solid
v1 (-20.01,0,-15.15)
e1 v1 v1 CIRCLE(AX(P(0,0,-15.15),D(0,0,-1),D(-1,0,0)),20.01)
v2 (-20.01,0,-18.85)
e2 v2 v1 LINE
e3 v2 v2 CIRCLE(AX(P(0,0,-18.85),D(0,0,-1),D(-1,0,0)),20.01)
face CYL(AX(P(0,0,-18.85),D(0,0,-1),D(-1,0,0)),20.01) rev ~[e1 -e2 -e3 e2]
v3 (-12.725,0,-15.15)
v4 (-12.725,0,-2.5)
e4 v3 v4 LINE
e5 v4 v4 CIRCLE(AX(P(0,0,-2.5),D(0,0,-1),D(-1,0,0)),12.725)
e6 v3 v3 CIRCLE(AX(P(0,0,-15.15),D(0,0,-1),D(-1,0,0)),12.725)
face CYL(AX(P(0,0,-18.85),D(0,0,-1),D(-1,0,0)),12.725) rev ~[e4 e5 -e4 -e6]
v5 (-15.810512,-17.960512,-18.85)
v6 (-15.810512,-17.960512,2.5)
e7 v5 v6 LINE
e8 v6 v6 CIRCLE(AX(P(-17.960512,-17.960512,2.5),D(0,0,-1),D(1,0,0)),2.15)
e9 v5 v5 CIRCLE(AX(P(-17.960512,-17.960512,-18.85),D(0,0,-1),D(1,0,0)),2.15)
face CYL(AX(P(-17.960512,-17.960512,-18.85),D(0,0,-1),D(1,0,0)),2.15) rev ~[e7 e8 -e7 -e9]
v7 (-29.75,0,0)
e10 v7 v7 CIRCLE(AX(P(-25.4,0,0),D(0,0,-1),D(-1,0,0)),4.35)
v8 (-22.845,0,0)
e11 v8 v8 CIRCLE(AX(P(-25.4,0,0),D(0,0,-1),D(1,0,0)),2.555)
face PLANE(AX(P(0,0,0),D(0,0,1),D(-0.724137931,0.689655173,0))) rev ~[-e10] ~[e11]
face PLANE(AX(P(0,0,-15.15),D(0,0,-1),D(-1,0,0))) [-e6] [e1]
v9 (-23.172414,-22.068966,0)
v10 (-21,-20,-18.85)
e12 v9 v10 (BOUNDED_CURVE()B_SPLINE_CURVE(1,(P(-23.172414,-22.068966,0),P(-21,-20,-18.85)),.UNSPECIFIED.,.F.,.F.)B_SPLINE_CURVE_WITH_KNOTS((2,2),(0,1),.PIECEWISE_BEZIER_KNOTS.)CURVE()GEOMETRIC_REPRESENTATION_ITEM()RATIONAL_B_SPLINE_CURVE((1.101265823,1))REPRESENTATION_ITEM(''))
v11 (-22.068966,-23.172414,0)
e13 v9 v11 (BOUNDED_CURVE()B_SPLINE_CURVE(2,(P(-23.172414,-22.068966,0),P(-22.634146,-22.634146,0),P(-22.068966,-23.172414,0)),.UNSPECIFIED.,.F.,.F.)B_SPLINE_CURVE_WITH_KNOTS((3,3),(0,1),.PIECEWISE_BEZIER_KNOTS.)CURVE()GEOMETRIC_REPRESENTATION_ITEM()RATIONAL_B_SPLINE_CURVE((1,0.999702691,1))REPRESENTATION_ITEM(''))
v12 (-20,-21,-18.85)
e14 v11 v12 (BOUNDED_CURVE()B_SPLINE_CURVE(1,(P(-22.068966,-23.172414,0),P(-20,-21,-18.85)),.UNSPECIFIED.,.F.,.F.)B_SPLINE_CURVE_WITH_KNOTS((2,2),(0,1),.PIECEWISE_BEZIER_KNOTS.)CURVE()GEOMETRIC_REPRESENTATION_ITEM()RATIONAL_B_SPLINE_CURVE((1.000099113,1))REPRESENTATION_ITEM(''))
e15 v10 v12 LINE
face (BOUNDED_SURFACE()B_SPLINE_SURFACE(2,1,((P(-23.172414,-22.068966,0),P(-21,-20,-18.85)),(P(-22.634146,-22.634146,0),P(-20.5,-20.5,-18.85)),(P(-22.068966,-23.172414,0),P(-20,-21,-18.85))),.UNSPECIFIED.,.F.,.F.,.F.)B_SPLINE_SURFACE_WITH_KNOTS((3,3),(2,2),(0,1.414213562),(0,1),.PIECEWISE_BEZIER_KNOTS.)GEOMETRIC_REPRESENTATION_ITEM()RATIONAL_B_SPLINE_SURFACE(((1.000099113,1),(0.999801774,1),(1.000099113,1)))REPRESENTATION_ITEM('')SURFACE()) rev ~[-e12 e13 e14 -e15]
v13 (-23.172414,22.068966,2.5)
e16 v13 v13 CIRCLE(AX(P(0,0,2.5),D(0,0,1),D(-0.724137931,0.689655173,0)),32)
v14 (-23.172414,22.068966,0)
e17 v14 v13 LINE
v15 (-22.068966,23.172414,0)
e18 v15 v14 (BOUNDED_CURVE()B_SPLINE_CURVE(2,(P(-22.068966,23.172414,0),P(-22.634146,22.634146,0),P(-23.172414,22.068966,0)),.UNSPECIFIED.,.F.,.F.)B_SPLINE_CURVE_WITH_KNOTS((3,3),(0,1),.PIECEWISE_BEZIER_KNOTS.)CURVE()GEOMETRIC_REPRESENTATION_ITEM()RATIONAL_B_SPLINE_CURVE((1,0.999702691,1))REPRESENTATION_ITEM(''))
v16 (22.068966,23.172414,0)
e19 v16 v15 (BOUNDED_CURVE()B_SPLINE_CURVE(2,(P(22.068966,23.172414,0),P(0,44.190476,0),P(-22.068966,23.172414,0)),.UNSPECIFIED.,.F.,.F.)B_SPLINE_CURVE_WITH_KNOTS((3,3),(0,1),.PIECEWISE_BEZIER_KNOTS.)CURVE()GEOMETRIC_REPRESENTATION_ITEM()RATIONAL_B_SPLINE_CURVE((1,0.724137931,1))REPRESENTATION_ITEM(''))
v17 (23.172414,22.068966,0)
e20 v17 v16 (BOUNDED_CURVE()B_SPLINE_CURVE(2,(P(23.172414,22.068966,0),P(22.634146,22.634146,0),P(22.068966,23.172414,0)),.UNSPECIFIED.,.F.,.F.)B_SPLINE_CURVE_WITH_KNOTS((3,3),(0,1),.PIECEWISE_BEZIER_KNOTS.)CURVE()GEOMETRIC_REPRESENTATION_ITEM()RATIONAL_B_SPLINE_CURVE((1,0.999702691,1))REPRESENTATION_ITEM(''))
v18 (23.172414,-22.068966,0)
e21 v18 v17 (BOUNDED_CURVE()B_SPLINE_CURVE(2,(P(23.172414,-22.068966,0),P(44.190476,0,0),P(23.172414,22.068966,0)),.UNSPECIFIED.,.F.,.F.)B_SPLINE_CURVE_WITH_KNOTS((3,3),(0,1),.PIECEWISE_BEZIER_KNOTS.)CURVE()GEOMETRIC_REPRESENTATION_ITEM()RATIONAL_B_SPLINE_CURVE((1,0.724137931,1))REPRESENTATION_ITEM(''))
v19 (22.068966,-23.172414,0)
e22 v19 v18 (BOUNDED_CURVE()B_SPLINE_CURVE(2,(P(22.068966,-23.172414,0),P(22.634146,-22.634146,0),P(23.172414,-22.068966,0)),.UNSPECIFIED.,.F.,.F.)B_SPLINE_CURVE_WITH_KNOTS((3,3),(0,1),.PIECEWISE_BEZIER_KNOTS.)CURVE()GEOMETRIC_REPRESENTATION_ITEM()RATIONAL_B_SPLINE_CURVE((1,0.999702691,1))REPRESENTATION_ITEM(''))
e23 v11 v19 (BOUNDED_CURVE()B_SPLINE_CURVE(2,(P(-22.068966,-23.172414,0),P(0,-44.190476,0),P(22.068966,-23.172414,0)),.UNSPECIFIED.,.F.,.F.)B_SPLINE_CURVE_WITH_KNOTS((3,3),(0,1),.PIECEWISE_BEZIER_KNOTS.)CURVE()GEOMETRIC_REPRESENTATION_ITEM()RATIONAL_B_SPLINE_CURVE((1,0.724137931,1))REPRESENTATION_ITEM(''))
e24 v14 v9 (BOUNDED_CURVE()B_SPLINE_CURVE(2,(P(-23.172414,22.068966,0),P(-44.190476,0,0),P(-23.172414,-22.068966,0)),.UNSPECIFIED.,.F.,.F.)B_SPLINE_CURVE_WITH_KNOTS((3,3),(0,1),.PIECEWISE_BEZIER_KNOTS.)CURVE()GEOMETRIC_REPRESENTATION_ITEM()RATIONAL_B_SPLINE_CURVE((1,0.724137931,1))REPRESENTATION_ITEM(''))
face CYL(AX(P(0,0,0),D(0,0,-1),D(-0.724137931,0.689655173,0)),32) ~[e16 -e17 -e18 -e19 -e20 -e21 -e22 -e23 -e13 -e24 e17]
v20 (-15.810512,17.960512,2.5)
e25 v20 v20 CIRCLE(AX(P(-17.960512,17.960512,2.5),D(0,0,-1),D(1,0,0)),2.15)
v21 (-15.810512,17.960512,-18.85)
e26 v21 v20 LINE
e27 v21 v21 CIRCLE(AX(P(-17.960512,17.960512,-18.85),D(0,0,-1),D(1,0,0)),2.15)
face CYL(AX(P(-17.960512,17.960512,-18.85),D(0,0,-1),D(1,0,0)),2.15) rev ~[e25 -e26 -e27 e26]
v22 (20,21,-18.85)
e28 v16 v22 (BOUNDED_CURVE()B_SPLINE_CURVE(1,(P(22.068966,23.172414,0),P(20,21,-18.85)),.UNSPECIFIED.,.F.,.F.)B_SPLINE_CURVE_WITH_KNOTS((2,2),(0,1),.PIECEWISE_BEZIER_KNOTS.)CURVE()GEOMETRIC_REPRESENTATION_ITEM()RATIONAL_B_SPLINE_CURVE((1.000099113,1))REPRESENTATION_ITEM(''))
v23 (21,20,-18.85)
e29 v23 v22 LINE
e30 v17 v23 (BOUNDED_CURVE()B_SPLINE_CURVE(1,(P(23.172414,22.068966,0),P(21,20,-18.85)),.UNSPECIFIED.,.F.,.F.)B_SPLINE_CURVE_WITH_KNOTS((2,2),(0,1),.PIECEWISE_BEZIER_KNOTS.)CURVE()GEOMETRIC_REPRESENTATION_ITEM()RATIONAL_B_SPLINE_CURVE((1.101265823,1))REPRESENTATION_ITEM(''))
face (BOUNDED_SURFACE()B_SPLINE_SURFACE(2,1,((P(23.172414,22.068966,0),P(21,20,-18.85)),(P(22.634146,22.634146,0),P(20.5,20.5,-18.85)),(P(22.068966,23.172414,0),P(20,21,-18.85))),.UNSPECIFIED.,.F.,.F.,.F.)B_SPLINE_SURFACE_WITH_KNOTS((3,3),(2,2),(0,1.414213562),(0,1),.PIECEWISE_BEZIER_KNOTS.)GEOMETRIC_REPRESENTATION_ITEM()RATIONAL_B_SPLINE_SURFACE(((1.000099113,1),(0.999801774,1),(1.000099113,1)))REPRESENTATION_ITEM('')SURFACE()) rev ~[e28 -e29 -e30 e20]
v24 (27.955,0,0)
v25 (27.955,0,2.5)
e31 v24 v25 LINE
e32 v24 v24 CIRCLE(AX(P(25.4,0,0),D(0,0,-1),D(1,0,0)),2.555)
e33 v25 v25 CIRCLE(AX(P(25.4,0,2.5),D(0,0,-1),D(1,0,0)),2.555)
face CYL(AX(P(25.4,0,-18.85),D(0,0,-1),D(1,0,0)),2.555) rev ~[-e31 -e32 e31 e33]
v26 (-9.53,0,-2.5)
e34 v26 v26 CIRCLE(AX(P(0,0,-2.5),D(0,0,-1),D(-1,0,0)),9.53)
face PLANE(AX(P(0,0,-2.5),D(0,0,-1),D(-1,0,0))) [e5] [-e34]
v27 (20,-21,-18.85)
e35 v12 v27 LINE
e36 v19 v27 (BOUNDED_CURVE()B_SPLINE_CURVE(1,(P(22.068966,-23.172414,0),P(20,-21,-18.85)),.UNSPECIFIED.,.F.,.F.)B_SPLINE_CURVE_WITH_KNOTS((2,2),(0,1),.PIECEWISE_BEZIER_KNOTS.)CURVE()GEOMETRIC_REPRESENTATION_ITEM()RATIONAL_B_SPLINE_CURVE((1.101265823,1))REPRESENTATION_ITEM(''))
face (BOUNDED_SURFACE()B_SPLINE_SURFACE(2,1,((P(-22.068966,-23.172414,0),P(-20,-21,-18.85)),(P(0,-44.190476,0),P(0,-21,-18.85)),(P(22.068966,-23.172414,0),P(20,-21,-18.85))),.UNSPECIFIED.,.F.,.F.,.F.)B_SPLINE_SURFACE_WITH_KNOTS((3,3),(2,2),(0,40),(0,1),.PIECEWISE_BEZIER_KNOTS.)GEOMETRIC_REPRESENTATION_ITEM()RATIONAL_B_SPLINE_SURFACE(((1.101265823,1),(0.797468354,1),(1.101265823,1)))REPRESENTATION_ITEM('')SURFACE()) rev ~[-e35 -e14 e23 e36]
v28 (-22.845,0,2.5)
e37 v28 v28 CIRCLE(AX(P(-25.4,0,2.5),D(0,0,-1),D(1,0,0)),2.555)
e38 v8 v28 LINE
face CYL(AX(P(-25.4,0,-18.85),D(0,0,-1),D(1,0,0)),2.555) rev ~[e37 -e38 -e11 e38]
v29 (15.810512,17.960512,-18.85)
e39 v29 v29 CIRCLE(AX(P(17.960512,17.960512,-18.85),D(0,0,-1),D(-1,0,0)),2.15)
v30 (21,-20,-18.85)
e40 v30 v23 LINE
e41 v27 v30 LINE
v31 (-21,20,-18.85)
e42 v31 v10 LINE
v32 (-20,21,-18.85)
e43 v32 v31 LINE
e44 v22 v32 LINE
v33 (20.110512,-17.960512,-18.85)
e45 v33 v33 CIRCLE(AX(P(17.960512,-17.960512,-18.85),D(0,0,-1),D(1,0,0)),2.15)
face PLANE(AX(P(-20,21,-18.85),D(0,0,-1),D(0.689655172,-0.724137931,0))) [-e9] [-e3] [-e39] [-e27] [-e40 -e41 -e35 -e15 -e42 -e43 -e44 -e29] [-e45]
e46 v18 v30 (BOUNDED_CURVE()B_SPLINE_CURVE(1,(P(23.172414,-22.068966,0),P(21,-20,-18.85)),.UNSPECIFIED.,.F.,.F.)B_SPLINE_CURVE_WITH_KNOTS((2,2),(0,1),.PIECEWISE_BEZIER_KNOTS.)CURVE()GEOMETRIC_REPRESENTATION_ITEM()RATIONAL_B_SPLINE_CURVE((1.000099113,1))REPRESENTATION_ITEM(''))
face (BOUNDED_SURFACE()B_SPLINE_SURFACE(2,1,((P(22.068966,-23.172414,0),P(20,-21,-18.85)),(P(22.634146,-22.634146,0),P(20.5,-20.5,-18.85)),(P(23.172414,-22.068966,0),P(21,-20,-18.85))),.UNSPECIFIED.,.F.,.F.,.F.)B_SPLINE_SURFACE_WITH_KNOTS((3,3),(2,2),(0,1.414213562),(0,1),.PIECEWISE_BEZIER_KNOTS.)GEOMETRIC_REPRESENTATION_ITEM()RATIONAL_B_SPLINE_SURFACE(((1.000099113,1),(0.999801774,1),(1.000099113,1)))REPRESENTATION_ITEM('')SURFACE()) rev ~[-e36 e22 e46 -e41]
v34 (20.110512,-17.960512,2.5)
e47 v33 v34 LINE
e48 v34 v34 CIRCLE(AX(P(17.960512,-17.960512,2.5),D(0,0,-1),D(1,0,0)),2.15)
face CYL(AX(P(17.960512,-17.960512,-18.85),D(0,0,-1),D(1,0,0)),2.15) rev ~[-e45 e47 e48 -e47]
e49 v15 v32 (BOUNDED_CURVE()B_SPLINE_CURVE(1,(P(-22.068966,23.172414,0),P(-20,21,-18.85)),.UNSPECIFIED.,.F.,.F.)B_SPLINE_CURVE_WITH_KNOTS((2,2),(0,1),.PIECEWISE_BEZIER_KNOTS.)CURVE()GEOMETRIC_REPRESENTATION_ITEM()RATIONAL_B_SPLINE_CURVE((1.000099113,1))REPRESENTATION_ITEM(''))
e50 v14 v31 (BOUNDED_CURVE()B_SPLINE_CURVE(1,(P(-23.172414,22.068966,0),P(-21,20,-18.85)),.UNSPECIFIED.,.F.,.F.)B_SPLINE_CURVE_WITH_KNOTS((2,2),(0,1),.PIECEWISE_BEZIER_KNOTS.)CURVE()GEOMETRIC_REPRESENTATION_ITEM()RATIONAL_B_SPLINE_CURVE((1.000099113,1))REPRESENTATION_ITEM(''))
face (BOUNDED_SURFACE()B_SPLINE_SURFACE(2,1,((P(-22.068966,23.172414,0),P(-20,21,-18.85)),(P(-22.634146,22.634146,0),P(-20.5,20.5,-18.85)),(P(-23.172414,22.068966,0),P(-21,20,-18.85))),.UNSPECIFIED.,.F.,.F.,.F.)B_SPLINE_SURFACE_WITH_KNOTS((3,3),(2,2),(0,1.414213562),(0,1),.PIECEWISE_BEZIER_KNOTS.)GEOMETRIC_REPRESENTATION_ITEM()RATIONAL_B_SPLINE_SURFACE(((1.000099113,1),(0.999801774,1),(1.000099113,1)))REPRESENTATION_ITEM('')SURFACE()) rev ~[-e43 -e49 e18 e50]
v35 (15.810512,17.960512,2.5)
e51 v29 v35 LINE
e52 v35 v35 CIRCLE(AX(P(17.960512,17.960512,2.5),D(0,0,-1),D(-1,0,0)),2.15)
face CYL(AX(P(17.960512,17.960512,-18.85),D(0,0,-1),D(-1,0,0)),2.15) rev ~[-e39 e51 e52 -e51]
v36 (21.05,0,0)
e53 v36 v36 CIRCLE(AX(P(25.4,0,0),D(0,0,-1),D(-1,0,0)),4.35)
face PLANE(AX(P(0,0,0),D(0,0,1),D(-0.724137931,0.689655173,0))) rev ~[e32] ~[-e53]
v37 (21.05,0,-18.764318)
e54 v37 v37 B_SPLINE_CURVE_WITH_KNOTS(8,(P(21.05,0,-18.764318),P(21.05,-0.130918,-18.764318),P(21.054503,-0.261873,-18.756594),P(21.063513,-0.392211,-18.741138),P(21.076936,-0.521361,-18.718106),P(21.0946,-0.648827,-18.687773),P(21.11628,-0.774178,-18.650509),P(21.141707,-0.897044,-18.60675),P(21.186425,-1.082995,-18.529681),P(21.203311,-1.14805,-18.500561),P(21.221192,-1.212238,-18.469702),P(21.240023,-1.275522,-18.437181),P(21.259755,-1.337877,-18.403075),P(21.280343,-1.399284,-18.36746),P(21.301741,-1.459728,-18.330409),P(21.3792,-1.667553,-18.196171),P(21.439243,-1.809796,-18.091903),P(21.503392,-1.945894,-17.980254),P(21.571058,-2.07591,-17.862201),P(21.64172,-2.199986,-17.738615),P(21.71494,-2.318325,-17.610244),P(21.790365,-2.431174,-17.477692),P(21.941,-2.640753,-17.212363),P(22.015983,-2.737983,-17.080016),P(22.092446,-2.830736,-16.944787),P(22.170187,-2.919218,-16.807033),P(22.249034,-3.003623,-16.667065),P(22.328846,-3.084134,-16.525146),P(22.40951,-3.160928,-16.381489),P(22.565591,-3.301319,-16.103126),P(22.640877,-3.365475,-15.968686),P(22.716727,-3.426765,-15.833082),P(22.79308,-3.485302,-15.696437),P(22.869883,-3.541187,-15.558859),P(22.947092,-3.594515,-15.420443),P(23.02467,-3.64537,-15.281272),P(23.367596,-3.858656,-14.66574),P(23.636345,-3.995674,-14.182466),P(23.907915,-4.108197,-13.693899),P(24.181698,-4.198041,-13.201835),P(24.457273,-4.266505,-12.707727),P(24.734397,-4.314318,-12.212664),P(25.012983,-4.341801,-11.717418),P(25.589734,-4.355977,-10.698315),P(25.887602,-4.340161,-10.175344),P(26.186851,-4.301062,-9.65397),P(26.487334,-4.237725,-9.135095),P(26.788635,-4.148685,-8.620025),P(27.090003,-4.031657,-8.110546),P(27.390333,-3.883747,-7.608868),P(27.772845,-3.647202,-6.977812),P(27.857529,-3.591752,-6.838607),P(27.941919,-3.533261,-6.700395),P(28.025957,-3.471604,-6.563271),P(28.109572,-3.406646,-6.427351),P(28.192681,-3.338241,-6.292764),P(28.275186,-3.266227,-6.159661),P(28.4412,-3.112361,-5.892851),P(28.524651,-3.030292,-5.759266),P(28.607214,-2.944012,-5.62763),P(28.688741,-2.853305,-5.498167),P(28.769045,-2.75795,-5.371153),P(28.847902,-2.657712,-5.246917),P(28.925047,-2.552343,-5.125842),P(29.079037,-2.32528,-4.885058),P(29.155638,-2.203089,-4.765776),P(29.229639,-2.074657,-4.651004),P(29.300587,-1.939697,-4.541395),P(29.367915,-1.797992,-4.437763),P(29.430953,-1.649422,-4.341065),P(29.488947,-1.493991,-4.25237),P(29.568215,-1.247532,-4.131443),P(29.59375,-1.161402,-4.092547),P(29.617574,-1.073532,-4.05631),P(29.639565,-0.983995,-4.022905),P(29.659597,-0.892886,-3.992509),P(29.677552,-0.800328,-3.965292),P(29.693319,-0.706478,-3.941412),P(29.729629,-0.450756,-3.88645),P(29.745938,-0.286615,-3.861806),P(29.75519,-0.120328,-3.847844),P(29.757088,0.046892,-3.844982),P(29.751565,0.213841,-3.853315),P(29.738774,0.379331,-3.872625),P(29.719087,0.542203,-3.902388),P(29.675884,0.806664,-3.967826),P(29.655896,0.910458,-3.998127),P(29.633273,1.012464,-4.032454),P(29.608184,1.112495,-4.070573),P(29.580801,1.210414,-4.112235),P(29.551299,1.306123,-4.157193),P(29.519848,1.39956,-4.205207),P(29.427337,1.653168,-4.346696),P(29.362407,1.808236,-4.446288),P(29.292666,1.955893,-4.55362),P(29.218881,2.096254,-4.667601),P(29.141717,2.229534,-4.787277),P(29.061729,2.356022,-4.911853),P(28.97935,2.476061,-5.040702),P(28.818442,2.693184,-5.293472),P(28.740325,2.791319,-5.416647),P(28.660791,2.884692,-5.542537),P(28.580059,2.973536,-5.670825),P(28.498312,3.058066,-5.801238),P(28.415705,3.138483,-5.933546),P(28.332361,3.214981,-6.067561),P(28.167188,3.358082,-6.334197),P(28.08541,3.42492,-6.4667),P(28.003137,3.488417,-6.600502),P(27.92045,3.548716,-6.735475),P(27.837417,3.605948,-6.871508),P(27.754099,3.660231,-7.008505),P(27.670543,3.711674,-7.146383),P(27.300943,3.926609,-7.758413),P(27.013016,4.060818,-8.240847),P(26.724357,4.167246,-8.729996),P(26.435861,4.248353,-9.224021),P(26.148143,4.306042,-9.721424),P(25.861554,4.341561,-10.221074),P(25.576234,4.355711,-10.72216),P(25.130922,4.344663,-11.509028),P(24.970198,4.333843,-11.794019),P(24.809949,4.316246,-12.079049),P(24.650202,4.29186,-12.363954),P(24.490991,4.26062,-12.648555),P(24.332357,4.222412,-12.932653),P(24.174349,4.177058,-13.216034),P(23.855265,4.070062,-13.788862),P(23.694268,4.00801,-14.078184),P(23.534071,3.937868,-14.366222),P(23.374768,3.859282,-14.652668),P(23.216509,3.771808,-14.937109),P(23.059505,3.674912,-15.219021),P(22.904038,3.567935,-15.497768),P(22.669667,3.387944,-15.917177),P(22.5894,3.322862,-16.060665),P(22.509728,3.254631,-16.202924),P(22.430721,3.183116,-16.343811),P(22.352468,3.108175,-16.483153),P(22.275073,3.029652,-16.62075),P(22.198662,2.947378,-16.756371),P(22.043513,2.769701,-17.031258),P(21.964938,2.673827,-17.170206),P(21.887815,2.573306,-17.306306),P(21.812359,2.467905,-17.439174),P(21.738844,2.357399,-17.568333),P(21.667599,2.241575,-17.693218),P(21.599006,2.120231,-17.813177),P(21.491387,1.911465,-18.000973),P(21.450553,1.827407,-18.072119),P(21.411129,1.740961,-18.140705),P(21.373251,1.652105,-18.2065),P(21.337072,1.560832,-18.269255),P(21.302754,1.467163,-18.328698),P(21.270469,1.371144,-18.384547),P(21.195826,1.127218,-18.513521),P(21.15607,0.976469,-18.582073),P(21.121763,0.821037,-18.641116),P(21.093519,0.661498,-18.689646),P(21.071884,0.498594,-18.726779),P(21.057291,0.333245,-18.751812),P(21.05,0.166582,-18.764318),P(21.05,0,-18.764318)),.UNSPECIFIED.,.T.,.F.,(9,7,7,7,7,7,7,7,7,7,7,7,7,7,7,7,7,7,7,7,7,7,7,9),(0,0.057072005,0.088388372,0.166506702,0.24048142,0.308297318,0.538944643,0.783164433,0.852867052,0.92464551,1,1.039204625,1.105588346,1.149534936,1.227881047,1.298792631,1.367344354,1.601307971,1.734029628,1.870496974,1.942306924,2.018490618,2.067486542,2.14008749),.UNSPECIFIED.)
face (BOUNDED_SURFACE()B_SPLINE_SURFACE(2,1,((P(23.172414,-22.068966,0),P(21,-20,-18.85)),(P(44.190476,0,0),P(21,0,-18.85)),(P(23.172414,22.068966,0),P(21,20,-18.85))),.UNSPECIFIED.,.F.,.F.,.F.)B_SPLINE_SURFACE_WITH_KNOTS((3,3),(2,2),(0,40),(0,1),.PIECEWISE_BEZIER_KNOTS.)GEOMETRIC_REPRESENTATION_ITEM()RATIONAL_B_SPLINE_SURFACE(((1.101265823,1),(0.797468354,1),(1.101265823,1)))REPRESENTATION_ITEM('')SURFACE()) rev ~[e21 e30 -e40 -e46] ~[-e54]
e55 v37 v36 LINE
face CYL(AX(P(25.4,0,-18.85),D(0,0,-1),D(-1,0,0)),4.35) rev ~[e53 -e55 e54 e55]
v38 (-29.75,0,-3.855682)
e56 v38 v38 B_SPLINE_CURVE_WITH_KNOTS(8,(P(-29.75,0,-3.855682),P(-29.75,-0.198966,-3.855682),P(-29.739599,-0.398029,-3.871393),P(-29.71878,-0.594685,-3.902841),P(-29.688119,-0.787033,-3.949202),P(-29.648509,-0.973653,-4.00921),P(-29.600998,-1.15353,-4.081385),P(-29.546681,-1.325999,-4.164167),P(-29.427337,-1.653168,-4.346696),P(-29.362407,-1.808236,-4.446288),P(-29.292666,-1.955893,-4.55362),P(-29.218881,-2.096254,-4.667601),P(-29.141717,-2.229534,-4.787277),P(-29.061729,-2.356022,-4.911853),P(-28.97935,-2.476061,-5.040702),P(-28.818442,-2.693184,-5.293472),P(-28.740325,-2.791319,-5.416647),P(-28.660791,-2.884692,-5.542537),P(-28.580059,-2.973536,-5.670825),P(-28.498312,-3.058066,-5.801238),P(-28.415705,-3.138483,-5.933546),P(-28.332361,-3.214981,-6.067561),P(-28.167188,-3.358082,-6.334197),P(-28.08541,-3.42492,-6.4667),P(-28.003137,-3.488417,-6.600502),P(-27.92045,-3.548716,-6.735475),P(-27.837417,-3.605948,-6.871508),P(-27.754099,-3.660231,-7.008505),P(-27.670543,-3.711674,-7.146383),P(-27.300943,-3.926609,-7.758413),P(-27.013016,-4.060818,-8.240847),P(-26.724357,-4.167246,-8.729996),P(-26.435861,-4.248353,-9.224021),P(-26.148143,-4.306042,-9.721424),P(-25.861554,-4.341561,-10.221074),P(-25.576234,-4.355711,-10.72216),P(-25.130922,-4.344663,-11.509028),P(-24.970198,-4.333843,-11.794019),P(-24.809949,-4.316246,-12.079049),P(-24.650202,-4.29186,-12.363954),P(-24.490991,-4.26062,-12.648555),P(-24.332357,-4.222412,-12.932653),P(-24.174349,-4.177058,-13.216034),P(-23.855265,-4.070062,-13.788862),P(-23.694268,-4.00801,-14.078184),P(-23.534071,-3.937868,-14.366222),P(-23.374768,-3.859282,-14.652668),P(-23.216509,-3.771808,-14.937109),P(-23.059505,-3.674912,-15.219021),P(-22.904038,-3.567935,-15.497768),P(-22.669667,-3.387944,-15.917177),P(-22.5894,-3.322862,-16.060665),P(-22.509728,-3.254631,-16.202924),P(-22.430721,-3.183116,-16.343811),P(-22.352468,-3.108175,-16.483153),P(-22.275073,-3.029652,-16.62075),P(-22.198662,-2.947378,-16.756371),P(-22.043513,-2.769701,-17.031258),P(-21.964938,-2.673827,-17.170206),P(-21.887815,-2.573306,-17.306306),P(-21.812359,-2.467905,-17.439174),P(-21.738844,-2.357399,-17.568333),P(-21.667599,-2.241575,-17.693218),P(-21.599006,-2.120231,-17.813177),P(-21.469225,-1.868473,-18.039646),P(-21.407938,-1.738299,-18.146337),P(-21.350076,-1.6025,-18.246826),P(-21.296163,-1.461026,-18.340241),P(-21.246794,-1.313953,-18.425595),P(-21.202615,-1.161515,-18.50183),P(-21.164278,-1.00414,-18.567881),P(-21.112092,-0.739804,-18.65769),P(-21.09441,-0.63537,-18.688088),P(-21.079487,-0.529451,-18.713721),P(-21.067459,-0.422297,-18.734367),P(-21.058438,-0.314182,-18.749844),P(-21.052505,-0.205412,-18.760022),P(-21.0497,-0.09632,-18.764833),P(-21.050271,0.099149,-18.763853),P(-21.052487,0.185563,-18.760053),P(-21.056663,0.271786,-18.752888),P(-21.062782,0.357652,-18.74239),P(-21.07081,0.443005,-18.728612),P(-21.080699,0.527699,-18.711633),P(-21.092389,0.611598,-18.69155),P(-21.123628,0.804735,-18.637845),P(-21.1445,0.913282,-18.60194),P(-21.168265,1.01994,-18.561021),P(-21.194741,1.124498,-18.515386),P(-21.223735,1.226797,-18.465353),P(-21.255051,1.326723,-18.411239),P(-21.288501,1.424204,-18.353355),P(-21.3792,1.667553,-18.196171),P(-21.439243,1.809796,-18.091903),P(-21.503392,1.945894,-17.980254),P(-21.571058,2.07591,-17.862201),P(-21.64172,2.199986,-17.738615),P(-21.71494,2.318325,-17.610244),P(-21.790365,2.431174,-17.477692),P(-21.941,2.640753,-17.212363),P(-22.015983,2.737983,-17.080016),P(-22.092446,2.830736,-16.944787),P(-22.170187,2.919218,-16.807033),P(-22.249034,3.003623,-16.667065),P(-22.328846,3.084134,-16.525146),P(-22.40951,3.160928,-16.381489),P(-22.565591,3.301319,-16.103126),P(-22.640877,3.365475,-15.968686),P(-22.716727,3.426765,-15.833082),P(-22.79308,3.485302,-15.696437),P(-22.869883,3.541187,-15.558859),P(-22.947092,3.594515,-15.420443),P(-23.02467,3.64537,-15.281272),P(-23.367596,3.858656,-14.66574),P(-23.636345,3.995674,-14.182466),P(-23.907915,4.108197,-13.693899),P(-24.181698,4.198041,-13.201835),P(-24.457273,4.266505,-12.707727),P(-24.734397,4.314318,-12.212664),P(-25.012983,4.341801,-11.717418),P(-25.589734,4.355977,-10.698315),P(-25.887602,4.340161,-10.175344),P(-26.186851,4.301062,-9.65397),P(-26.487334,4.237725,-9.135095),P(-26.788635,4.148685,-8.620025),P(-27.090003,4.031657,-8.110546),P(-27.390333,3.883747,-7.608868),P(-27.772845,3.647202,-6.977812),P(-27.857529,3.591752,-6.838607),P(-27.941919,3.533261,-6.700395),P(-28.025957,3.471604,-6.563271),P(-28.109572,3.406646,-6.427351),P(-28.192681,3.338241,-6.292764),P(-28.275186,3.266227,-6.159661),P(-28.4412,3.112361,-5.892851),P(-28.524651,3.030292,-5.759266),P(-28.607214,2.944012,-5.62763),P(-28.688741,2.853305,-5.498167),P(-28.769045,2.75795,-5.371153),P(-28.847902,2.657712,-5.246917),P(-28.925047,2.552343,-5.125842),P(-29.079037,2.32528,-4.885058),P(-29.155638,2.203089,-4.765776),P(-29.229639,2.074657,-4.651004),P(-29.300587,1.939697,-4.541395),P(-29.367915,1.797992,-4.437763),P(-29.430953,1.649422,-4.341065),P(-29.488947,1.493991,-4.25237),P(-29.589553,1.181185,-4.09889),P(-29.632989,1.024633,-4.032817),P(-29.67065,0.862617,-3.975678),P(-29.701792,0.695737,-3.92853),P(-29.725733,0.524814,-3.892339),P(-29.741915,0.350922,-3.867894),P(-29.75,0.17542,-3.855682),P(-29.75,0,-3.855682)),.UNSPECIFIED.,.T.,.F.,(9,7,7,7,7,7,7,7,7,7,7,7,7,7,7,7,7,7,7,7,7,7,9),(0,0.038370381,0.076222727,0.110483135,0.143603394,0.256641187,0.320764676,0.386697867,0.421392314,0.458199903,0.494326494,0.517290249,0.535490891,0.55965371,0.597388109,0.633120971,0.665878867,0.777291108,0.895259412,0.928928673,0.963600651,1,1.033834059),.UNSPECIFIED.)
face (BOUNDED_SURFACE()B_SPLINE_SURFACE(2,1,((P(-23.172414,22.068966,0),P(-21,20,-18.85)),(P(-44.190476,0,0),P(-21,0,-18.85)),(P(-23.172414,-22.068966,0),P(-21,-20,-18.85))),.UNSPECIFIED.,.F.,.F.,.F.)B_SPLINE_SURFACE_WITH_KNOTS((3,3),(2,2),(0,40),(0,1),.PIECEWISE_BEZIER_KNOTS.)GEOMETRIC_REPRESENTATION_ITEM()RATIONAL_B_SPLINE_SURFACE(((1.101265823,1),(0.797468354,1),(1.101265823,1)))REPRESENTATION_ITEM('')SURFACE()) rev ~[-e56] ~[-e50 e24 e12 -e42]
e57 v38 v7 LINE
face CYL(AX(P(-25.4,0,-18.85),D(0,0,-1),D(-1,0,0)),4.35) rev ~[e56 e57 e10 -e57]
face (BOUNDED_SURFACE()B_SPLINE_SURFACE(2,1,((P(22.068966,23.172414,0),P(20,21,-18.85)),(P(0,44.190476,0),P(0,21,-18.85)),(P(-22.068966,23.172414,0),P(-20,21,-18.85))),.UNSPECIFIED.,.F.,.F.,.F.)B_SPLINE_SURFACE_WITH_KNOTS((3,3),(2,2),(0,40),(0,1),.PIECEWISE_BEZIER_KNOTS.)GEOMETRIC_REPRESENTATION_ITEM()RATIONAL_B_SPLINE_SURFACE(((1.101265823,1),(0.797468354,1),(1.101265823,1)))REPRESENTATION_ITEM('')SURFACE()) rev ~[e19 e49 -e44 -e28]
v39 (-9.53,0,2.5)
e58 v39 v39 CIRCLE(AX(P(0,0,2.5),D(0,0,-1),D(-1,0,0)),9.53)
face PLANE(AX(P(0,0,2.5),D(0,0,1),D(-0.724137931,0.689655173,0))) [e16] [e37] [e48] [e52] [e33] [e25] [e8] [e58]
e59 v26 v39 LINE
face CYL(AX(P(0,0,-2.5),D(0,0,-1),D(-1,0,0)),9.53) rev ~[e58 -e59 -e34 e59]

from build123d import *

# Parameters (mm, degrees)
SKETCH3_R           = 4.35
CUT_EXTRUDE1_DEPTH  = 19.35
SKETCH4_R           = 32
BOSS_EXTRUDE1_DEPTH = 2.5
SKETCH5_R           = 2.555
CUT_EXTRUDE2_DEPTH  = 40
SKETCH6_R           = 20.01
CUT_EXTRUDE3_DEPTH  = 3.7
SKETCH7_R           = 12.725
CUT_EXTRUDE4_DEPTH  = 16.35
SKETCH8_R           = 9.53
CUT_EXTRUDE5_DEPTH  = 16.35
SKETCH9_R           = 2.15
CUT_EXTRUDE6_DEPTH  = 30


with BuildPart() as part:
    # Sketch1 for Loft3 → Loft3 section 0
    with BuildSketch(Plane.XY):
        with BuildLine():
            # circular arc as an exact rational Bezier (weights 1, cos(half-angle), 1)
            Bezier((-22.068965517, 23.172413793), (-22.634146342, 22.634146342), (-23.172413793, 22.068965517), weights=[1, 0.999702691, 1])
            Bezier((-23.172413793, 22.068965517), (-44.190476191, 0), (-23.172413793, -22.068965517), weights=[1, 0.724137931, 1])
            Bezier((-23.172413793, -22.068965517), (-22.634146342, -22.634146342), (-22.068965517, -23.172413793), weights=[1, 0.999702691, 1])
            Bezier((-22.068965517, -23.172413793), (0, -44.190476191), (22.068965517, -23.172413793), weights=[1, 0.724137931, 1])
            Bezier((22.068965517, -23.172413793), (22.634146342, -22.634146342), (23.172413793, -22.068965517), weights=[1, 0.999702691, 1])
            Bezier((23.172413793, -22.068965517), (44.190476191, 0), (23.172413793, 22.068965517), weights=[1, 0.724137931, 1])
            Bezier((23.172413793, 22.068965517), (22.634146342, 22.634146342), (22.068965517, 23.172413793), weights=[1, 0.999702691, 1])
            Bezier((22.068965517, 23.172413793), (0, 44.190476191), (-22.068965517, 23.172413793), weights=[1, 0.724137931, 1])
        make_face()
    # Sketch2 → Loft3 section 1
    with BuildSketch(Plane(origin=(0, 0, -18.85), x_dir=(-1, 0, 0), z_dir=(0, 0, -1))):
        Polygon((20, 21), (21, 20), (21, -20), (20, -21), (-20, -21), (-21, -20), (-21, 20), (-20, 21), align=None)
    loft()

    # Sketch3 → Cut-Extrude1 (cut)
    with BuildSketch(Plane(origin=(0, 0, -18.85), x_dir=(-1, 0, 0), z_dir=(0, 0, -1))):
        with Locations((25.4, 0)):
            Circle(SKETCH3_R)
        with Locations((-25.4, 0)):
            Circle(SKETCH3_R)
    extrude(amount=-CUT_EXTRUDE1_DEPTH, mode=Mode.SUBTRACT)

    # Sketch4 → Boss-Extrude1 (add)
    with BuildSketch(Plane.XY):
        with Locations(Location((0, 0, 0), (0, 0, 136.397181012))):
            Circle(SKETCH4_R)
    extrude(amount=BOSS_EXTRUDE1_DEPTH)

    # Sketch5 → Cut-Extrude2 (cut)
    with BuildSketch(Plane(origin=(0, 0, -18.85), x_dir=(-1, 0, 0), z_dir=(0, 0, -1))):
        with Locations(Location((25.4, 0, 0), (0, 0, 180))):
            Circle(SKETCH5_R)
        with Locations(Location((-25.4, 0, 0), (0, 0, 180))):
            Circle(SKETCH5_R)
    extrude(amount=-CUT_EXTRUDE2_DEPTH, mode=Mode.SUBTRACT)

    # Sketch6 → Cut-Extrude3 (cut)
    with BuildSketch(Plane(origin=(0, 0, -18.85), x_dir=(-1, 0, 0), z_dir=(0, 0, -1))):
        Circle(SKETCH6_R)
    extrude(amount=-CUT_EXTRUDE3_DEPTH, mode=Mode.SUBTRACT)

    # Sketch7 → Cut-Extrude4 (cut)
    with BuildSketch(Plane(origin=(0, 0, -18.85), x_dir=(-1, 0, 0), z_dir=(0, 0, -1))):
        Circle(SKETCH7_R)
    extrude(amount=-CUT_EXTRUDE4_DEPTH, mode=Mode.SUBTRACT)

    # Sketch8 → Cut-Extrude5 (cut)
    with BuildSketch(Plane(origin=(0, 0, -2.5), x_dir=(-1, 0, 0), z_dir=(0, 0, -1))):
        Circle(SKETCH8_R)
    extrude(amount=-CUT_EXTRUDE5_DEPTH, mode=Mode.SUBTRACT)

    # Sketch9 → Cut-Extrude6 (cut)
    with BuildSketch(Plane(origin=(0, 0, -18.85), x_dir=(-1, 0, 0), z_dir=(0, 0, -1))):
        with Locations((-17.960512242, 17.960512242)):
            Circle(SKETCH9_R)
        with Locations(Location((17.960512242, 17.960512242, 0), (0, 0, 180))):
            Circle(SKETCH9_R)
        with Locations(Location((-17.960512242, -17.960512242, 0), (0, 0, 180))):
            Circle(SKETCH9_R)
        with Locations(Location((17.960512242, -17.960512242, 0), (0, 0, 180))):
            Circle(SKETCH9_R)
    extrude(amount=-CUT_EXTRUDE6_DEPTH, mode=Mode.SUBTRACT)


solid = part.part
